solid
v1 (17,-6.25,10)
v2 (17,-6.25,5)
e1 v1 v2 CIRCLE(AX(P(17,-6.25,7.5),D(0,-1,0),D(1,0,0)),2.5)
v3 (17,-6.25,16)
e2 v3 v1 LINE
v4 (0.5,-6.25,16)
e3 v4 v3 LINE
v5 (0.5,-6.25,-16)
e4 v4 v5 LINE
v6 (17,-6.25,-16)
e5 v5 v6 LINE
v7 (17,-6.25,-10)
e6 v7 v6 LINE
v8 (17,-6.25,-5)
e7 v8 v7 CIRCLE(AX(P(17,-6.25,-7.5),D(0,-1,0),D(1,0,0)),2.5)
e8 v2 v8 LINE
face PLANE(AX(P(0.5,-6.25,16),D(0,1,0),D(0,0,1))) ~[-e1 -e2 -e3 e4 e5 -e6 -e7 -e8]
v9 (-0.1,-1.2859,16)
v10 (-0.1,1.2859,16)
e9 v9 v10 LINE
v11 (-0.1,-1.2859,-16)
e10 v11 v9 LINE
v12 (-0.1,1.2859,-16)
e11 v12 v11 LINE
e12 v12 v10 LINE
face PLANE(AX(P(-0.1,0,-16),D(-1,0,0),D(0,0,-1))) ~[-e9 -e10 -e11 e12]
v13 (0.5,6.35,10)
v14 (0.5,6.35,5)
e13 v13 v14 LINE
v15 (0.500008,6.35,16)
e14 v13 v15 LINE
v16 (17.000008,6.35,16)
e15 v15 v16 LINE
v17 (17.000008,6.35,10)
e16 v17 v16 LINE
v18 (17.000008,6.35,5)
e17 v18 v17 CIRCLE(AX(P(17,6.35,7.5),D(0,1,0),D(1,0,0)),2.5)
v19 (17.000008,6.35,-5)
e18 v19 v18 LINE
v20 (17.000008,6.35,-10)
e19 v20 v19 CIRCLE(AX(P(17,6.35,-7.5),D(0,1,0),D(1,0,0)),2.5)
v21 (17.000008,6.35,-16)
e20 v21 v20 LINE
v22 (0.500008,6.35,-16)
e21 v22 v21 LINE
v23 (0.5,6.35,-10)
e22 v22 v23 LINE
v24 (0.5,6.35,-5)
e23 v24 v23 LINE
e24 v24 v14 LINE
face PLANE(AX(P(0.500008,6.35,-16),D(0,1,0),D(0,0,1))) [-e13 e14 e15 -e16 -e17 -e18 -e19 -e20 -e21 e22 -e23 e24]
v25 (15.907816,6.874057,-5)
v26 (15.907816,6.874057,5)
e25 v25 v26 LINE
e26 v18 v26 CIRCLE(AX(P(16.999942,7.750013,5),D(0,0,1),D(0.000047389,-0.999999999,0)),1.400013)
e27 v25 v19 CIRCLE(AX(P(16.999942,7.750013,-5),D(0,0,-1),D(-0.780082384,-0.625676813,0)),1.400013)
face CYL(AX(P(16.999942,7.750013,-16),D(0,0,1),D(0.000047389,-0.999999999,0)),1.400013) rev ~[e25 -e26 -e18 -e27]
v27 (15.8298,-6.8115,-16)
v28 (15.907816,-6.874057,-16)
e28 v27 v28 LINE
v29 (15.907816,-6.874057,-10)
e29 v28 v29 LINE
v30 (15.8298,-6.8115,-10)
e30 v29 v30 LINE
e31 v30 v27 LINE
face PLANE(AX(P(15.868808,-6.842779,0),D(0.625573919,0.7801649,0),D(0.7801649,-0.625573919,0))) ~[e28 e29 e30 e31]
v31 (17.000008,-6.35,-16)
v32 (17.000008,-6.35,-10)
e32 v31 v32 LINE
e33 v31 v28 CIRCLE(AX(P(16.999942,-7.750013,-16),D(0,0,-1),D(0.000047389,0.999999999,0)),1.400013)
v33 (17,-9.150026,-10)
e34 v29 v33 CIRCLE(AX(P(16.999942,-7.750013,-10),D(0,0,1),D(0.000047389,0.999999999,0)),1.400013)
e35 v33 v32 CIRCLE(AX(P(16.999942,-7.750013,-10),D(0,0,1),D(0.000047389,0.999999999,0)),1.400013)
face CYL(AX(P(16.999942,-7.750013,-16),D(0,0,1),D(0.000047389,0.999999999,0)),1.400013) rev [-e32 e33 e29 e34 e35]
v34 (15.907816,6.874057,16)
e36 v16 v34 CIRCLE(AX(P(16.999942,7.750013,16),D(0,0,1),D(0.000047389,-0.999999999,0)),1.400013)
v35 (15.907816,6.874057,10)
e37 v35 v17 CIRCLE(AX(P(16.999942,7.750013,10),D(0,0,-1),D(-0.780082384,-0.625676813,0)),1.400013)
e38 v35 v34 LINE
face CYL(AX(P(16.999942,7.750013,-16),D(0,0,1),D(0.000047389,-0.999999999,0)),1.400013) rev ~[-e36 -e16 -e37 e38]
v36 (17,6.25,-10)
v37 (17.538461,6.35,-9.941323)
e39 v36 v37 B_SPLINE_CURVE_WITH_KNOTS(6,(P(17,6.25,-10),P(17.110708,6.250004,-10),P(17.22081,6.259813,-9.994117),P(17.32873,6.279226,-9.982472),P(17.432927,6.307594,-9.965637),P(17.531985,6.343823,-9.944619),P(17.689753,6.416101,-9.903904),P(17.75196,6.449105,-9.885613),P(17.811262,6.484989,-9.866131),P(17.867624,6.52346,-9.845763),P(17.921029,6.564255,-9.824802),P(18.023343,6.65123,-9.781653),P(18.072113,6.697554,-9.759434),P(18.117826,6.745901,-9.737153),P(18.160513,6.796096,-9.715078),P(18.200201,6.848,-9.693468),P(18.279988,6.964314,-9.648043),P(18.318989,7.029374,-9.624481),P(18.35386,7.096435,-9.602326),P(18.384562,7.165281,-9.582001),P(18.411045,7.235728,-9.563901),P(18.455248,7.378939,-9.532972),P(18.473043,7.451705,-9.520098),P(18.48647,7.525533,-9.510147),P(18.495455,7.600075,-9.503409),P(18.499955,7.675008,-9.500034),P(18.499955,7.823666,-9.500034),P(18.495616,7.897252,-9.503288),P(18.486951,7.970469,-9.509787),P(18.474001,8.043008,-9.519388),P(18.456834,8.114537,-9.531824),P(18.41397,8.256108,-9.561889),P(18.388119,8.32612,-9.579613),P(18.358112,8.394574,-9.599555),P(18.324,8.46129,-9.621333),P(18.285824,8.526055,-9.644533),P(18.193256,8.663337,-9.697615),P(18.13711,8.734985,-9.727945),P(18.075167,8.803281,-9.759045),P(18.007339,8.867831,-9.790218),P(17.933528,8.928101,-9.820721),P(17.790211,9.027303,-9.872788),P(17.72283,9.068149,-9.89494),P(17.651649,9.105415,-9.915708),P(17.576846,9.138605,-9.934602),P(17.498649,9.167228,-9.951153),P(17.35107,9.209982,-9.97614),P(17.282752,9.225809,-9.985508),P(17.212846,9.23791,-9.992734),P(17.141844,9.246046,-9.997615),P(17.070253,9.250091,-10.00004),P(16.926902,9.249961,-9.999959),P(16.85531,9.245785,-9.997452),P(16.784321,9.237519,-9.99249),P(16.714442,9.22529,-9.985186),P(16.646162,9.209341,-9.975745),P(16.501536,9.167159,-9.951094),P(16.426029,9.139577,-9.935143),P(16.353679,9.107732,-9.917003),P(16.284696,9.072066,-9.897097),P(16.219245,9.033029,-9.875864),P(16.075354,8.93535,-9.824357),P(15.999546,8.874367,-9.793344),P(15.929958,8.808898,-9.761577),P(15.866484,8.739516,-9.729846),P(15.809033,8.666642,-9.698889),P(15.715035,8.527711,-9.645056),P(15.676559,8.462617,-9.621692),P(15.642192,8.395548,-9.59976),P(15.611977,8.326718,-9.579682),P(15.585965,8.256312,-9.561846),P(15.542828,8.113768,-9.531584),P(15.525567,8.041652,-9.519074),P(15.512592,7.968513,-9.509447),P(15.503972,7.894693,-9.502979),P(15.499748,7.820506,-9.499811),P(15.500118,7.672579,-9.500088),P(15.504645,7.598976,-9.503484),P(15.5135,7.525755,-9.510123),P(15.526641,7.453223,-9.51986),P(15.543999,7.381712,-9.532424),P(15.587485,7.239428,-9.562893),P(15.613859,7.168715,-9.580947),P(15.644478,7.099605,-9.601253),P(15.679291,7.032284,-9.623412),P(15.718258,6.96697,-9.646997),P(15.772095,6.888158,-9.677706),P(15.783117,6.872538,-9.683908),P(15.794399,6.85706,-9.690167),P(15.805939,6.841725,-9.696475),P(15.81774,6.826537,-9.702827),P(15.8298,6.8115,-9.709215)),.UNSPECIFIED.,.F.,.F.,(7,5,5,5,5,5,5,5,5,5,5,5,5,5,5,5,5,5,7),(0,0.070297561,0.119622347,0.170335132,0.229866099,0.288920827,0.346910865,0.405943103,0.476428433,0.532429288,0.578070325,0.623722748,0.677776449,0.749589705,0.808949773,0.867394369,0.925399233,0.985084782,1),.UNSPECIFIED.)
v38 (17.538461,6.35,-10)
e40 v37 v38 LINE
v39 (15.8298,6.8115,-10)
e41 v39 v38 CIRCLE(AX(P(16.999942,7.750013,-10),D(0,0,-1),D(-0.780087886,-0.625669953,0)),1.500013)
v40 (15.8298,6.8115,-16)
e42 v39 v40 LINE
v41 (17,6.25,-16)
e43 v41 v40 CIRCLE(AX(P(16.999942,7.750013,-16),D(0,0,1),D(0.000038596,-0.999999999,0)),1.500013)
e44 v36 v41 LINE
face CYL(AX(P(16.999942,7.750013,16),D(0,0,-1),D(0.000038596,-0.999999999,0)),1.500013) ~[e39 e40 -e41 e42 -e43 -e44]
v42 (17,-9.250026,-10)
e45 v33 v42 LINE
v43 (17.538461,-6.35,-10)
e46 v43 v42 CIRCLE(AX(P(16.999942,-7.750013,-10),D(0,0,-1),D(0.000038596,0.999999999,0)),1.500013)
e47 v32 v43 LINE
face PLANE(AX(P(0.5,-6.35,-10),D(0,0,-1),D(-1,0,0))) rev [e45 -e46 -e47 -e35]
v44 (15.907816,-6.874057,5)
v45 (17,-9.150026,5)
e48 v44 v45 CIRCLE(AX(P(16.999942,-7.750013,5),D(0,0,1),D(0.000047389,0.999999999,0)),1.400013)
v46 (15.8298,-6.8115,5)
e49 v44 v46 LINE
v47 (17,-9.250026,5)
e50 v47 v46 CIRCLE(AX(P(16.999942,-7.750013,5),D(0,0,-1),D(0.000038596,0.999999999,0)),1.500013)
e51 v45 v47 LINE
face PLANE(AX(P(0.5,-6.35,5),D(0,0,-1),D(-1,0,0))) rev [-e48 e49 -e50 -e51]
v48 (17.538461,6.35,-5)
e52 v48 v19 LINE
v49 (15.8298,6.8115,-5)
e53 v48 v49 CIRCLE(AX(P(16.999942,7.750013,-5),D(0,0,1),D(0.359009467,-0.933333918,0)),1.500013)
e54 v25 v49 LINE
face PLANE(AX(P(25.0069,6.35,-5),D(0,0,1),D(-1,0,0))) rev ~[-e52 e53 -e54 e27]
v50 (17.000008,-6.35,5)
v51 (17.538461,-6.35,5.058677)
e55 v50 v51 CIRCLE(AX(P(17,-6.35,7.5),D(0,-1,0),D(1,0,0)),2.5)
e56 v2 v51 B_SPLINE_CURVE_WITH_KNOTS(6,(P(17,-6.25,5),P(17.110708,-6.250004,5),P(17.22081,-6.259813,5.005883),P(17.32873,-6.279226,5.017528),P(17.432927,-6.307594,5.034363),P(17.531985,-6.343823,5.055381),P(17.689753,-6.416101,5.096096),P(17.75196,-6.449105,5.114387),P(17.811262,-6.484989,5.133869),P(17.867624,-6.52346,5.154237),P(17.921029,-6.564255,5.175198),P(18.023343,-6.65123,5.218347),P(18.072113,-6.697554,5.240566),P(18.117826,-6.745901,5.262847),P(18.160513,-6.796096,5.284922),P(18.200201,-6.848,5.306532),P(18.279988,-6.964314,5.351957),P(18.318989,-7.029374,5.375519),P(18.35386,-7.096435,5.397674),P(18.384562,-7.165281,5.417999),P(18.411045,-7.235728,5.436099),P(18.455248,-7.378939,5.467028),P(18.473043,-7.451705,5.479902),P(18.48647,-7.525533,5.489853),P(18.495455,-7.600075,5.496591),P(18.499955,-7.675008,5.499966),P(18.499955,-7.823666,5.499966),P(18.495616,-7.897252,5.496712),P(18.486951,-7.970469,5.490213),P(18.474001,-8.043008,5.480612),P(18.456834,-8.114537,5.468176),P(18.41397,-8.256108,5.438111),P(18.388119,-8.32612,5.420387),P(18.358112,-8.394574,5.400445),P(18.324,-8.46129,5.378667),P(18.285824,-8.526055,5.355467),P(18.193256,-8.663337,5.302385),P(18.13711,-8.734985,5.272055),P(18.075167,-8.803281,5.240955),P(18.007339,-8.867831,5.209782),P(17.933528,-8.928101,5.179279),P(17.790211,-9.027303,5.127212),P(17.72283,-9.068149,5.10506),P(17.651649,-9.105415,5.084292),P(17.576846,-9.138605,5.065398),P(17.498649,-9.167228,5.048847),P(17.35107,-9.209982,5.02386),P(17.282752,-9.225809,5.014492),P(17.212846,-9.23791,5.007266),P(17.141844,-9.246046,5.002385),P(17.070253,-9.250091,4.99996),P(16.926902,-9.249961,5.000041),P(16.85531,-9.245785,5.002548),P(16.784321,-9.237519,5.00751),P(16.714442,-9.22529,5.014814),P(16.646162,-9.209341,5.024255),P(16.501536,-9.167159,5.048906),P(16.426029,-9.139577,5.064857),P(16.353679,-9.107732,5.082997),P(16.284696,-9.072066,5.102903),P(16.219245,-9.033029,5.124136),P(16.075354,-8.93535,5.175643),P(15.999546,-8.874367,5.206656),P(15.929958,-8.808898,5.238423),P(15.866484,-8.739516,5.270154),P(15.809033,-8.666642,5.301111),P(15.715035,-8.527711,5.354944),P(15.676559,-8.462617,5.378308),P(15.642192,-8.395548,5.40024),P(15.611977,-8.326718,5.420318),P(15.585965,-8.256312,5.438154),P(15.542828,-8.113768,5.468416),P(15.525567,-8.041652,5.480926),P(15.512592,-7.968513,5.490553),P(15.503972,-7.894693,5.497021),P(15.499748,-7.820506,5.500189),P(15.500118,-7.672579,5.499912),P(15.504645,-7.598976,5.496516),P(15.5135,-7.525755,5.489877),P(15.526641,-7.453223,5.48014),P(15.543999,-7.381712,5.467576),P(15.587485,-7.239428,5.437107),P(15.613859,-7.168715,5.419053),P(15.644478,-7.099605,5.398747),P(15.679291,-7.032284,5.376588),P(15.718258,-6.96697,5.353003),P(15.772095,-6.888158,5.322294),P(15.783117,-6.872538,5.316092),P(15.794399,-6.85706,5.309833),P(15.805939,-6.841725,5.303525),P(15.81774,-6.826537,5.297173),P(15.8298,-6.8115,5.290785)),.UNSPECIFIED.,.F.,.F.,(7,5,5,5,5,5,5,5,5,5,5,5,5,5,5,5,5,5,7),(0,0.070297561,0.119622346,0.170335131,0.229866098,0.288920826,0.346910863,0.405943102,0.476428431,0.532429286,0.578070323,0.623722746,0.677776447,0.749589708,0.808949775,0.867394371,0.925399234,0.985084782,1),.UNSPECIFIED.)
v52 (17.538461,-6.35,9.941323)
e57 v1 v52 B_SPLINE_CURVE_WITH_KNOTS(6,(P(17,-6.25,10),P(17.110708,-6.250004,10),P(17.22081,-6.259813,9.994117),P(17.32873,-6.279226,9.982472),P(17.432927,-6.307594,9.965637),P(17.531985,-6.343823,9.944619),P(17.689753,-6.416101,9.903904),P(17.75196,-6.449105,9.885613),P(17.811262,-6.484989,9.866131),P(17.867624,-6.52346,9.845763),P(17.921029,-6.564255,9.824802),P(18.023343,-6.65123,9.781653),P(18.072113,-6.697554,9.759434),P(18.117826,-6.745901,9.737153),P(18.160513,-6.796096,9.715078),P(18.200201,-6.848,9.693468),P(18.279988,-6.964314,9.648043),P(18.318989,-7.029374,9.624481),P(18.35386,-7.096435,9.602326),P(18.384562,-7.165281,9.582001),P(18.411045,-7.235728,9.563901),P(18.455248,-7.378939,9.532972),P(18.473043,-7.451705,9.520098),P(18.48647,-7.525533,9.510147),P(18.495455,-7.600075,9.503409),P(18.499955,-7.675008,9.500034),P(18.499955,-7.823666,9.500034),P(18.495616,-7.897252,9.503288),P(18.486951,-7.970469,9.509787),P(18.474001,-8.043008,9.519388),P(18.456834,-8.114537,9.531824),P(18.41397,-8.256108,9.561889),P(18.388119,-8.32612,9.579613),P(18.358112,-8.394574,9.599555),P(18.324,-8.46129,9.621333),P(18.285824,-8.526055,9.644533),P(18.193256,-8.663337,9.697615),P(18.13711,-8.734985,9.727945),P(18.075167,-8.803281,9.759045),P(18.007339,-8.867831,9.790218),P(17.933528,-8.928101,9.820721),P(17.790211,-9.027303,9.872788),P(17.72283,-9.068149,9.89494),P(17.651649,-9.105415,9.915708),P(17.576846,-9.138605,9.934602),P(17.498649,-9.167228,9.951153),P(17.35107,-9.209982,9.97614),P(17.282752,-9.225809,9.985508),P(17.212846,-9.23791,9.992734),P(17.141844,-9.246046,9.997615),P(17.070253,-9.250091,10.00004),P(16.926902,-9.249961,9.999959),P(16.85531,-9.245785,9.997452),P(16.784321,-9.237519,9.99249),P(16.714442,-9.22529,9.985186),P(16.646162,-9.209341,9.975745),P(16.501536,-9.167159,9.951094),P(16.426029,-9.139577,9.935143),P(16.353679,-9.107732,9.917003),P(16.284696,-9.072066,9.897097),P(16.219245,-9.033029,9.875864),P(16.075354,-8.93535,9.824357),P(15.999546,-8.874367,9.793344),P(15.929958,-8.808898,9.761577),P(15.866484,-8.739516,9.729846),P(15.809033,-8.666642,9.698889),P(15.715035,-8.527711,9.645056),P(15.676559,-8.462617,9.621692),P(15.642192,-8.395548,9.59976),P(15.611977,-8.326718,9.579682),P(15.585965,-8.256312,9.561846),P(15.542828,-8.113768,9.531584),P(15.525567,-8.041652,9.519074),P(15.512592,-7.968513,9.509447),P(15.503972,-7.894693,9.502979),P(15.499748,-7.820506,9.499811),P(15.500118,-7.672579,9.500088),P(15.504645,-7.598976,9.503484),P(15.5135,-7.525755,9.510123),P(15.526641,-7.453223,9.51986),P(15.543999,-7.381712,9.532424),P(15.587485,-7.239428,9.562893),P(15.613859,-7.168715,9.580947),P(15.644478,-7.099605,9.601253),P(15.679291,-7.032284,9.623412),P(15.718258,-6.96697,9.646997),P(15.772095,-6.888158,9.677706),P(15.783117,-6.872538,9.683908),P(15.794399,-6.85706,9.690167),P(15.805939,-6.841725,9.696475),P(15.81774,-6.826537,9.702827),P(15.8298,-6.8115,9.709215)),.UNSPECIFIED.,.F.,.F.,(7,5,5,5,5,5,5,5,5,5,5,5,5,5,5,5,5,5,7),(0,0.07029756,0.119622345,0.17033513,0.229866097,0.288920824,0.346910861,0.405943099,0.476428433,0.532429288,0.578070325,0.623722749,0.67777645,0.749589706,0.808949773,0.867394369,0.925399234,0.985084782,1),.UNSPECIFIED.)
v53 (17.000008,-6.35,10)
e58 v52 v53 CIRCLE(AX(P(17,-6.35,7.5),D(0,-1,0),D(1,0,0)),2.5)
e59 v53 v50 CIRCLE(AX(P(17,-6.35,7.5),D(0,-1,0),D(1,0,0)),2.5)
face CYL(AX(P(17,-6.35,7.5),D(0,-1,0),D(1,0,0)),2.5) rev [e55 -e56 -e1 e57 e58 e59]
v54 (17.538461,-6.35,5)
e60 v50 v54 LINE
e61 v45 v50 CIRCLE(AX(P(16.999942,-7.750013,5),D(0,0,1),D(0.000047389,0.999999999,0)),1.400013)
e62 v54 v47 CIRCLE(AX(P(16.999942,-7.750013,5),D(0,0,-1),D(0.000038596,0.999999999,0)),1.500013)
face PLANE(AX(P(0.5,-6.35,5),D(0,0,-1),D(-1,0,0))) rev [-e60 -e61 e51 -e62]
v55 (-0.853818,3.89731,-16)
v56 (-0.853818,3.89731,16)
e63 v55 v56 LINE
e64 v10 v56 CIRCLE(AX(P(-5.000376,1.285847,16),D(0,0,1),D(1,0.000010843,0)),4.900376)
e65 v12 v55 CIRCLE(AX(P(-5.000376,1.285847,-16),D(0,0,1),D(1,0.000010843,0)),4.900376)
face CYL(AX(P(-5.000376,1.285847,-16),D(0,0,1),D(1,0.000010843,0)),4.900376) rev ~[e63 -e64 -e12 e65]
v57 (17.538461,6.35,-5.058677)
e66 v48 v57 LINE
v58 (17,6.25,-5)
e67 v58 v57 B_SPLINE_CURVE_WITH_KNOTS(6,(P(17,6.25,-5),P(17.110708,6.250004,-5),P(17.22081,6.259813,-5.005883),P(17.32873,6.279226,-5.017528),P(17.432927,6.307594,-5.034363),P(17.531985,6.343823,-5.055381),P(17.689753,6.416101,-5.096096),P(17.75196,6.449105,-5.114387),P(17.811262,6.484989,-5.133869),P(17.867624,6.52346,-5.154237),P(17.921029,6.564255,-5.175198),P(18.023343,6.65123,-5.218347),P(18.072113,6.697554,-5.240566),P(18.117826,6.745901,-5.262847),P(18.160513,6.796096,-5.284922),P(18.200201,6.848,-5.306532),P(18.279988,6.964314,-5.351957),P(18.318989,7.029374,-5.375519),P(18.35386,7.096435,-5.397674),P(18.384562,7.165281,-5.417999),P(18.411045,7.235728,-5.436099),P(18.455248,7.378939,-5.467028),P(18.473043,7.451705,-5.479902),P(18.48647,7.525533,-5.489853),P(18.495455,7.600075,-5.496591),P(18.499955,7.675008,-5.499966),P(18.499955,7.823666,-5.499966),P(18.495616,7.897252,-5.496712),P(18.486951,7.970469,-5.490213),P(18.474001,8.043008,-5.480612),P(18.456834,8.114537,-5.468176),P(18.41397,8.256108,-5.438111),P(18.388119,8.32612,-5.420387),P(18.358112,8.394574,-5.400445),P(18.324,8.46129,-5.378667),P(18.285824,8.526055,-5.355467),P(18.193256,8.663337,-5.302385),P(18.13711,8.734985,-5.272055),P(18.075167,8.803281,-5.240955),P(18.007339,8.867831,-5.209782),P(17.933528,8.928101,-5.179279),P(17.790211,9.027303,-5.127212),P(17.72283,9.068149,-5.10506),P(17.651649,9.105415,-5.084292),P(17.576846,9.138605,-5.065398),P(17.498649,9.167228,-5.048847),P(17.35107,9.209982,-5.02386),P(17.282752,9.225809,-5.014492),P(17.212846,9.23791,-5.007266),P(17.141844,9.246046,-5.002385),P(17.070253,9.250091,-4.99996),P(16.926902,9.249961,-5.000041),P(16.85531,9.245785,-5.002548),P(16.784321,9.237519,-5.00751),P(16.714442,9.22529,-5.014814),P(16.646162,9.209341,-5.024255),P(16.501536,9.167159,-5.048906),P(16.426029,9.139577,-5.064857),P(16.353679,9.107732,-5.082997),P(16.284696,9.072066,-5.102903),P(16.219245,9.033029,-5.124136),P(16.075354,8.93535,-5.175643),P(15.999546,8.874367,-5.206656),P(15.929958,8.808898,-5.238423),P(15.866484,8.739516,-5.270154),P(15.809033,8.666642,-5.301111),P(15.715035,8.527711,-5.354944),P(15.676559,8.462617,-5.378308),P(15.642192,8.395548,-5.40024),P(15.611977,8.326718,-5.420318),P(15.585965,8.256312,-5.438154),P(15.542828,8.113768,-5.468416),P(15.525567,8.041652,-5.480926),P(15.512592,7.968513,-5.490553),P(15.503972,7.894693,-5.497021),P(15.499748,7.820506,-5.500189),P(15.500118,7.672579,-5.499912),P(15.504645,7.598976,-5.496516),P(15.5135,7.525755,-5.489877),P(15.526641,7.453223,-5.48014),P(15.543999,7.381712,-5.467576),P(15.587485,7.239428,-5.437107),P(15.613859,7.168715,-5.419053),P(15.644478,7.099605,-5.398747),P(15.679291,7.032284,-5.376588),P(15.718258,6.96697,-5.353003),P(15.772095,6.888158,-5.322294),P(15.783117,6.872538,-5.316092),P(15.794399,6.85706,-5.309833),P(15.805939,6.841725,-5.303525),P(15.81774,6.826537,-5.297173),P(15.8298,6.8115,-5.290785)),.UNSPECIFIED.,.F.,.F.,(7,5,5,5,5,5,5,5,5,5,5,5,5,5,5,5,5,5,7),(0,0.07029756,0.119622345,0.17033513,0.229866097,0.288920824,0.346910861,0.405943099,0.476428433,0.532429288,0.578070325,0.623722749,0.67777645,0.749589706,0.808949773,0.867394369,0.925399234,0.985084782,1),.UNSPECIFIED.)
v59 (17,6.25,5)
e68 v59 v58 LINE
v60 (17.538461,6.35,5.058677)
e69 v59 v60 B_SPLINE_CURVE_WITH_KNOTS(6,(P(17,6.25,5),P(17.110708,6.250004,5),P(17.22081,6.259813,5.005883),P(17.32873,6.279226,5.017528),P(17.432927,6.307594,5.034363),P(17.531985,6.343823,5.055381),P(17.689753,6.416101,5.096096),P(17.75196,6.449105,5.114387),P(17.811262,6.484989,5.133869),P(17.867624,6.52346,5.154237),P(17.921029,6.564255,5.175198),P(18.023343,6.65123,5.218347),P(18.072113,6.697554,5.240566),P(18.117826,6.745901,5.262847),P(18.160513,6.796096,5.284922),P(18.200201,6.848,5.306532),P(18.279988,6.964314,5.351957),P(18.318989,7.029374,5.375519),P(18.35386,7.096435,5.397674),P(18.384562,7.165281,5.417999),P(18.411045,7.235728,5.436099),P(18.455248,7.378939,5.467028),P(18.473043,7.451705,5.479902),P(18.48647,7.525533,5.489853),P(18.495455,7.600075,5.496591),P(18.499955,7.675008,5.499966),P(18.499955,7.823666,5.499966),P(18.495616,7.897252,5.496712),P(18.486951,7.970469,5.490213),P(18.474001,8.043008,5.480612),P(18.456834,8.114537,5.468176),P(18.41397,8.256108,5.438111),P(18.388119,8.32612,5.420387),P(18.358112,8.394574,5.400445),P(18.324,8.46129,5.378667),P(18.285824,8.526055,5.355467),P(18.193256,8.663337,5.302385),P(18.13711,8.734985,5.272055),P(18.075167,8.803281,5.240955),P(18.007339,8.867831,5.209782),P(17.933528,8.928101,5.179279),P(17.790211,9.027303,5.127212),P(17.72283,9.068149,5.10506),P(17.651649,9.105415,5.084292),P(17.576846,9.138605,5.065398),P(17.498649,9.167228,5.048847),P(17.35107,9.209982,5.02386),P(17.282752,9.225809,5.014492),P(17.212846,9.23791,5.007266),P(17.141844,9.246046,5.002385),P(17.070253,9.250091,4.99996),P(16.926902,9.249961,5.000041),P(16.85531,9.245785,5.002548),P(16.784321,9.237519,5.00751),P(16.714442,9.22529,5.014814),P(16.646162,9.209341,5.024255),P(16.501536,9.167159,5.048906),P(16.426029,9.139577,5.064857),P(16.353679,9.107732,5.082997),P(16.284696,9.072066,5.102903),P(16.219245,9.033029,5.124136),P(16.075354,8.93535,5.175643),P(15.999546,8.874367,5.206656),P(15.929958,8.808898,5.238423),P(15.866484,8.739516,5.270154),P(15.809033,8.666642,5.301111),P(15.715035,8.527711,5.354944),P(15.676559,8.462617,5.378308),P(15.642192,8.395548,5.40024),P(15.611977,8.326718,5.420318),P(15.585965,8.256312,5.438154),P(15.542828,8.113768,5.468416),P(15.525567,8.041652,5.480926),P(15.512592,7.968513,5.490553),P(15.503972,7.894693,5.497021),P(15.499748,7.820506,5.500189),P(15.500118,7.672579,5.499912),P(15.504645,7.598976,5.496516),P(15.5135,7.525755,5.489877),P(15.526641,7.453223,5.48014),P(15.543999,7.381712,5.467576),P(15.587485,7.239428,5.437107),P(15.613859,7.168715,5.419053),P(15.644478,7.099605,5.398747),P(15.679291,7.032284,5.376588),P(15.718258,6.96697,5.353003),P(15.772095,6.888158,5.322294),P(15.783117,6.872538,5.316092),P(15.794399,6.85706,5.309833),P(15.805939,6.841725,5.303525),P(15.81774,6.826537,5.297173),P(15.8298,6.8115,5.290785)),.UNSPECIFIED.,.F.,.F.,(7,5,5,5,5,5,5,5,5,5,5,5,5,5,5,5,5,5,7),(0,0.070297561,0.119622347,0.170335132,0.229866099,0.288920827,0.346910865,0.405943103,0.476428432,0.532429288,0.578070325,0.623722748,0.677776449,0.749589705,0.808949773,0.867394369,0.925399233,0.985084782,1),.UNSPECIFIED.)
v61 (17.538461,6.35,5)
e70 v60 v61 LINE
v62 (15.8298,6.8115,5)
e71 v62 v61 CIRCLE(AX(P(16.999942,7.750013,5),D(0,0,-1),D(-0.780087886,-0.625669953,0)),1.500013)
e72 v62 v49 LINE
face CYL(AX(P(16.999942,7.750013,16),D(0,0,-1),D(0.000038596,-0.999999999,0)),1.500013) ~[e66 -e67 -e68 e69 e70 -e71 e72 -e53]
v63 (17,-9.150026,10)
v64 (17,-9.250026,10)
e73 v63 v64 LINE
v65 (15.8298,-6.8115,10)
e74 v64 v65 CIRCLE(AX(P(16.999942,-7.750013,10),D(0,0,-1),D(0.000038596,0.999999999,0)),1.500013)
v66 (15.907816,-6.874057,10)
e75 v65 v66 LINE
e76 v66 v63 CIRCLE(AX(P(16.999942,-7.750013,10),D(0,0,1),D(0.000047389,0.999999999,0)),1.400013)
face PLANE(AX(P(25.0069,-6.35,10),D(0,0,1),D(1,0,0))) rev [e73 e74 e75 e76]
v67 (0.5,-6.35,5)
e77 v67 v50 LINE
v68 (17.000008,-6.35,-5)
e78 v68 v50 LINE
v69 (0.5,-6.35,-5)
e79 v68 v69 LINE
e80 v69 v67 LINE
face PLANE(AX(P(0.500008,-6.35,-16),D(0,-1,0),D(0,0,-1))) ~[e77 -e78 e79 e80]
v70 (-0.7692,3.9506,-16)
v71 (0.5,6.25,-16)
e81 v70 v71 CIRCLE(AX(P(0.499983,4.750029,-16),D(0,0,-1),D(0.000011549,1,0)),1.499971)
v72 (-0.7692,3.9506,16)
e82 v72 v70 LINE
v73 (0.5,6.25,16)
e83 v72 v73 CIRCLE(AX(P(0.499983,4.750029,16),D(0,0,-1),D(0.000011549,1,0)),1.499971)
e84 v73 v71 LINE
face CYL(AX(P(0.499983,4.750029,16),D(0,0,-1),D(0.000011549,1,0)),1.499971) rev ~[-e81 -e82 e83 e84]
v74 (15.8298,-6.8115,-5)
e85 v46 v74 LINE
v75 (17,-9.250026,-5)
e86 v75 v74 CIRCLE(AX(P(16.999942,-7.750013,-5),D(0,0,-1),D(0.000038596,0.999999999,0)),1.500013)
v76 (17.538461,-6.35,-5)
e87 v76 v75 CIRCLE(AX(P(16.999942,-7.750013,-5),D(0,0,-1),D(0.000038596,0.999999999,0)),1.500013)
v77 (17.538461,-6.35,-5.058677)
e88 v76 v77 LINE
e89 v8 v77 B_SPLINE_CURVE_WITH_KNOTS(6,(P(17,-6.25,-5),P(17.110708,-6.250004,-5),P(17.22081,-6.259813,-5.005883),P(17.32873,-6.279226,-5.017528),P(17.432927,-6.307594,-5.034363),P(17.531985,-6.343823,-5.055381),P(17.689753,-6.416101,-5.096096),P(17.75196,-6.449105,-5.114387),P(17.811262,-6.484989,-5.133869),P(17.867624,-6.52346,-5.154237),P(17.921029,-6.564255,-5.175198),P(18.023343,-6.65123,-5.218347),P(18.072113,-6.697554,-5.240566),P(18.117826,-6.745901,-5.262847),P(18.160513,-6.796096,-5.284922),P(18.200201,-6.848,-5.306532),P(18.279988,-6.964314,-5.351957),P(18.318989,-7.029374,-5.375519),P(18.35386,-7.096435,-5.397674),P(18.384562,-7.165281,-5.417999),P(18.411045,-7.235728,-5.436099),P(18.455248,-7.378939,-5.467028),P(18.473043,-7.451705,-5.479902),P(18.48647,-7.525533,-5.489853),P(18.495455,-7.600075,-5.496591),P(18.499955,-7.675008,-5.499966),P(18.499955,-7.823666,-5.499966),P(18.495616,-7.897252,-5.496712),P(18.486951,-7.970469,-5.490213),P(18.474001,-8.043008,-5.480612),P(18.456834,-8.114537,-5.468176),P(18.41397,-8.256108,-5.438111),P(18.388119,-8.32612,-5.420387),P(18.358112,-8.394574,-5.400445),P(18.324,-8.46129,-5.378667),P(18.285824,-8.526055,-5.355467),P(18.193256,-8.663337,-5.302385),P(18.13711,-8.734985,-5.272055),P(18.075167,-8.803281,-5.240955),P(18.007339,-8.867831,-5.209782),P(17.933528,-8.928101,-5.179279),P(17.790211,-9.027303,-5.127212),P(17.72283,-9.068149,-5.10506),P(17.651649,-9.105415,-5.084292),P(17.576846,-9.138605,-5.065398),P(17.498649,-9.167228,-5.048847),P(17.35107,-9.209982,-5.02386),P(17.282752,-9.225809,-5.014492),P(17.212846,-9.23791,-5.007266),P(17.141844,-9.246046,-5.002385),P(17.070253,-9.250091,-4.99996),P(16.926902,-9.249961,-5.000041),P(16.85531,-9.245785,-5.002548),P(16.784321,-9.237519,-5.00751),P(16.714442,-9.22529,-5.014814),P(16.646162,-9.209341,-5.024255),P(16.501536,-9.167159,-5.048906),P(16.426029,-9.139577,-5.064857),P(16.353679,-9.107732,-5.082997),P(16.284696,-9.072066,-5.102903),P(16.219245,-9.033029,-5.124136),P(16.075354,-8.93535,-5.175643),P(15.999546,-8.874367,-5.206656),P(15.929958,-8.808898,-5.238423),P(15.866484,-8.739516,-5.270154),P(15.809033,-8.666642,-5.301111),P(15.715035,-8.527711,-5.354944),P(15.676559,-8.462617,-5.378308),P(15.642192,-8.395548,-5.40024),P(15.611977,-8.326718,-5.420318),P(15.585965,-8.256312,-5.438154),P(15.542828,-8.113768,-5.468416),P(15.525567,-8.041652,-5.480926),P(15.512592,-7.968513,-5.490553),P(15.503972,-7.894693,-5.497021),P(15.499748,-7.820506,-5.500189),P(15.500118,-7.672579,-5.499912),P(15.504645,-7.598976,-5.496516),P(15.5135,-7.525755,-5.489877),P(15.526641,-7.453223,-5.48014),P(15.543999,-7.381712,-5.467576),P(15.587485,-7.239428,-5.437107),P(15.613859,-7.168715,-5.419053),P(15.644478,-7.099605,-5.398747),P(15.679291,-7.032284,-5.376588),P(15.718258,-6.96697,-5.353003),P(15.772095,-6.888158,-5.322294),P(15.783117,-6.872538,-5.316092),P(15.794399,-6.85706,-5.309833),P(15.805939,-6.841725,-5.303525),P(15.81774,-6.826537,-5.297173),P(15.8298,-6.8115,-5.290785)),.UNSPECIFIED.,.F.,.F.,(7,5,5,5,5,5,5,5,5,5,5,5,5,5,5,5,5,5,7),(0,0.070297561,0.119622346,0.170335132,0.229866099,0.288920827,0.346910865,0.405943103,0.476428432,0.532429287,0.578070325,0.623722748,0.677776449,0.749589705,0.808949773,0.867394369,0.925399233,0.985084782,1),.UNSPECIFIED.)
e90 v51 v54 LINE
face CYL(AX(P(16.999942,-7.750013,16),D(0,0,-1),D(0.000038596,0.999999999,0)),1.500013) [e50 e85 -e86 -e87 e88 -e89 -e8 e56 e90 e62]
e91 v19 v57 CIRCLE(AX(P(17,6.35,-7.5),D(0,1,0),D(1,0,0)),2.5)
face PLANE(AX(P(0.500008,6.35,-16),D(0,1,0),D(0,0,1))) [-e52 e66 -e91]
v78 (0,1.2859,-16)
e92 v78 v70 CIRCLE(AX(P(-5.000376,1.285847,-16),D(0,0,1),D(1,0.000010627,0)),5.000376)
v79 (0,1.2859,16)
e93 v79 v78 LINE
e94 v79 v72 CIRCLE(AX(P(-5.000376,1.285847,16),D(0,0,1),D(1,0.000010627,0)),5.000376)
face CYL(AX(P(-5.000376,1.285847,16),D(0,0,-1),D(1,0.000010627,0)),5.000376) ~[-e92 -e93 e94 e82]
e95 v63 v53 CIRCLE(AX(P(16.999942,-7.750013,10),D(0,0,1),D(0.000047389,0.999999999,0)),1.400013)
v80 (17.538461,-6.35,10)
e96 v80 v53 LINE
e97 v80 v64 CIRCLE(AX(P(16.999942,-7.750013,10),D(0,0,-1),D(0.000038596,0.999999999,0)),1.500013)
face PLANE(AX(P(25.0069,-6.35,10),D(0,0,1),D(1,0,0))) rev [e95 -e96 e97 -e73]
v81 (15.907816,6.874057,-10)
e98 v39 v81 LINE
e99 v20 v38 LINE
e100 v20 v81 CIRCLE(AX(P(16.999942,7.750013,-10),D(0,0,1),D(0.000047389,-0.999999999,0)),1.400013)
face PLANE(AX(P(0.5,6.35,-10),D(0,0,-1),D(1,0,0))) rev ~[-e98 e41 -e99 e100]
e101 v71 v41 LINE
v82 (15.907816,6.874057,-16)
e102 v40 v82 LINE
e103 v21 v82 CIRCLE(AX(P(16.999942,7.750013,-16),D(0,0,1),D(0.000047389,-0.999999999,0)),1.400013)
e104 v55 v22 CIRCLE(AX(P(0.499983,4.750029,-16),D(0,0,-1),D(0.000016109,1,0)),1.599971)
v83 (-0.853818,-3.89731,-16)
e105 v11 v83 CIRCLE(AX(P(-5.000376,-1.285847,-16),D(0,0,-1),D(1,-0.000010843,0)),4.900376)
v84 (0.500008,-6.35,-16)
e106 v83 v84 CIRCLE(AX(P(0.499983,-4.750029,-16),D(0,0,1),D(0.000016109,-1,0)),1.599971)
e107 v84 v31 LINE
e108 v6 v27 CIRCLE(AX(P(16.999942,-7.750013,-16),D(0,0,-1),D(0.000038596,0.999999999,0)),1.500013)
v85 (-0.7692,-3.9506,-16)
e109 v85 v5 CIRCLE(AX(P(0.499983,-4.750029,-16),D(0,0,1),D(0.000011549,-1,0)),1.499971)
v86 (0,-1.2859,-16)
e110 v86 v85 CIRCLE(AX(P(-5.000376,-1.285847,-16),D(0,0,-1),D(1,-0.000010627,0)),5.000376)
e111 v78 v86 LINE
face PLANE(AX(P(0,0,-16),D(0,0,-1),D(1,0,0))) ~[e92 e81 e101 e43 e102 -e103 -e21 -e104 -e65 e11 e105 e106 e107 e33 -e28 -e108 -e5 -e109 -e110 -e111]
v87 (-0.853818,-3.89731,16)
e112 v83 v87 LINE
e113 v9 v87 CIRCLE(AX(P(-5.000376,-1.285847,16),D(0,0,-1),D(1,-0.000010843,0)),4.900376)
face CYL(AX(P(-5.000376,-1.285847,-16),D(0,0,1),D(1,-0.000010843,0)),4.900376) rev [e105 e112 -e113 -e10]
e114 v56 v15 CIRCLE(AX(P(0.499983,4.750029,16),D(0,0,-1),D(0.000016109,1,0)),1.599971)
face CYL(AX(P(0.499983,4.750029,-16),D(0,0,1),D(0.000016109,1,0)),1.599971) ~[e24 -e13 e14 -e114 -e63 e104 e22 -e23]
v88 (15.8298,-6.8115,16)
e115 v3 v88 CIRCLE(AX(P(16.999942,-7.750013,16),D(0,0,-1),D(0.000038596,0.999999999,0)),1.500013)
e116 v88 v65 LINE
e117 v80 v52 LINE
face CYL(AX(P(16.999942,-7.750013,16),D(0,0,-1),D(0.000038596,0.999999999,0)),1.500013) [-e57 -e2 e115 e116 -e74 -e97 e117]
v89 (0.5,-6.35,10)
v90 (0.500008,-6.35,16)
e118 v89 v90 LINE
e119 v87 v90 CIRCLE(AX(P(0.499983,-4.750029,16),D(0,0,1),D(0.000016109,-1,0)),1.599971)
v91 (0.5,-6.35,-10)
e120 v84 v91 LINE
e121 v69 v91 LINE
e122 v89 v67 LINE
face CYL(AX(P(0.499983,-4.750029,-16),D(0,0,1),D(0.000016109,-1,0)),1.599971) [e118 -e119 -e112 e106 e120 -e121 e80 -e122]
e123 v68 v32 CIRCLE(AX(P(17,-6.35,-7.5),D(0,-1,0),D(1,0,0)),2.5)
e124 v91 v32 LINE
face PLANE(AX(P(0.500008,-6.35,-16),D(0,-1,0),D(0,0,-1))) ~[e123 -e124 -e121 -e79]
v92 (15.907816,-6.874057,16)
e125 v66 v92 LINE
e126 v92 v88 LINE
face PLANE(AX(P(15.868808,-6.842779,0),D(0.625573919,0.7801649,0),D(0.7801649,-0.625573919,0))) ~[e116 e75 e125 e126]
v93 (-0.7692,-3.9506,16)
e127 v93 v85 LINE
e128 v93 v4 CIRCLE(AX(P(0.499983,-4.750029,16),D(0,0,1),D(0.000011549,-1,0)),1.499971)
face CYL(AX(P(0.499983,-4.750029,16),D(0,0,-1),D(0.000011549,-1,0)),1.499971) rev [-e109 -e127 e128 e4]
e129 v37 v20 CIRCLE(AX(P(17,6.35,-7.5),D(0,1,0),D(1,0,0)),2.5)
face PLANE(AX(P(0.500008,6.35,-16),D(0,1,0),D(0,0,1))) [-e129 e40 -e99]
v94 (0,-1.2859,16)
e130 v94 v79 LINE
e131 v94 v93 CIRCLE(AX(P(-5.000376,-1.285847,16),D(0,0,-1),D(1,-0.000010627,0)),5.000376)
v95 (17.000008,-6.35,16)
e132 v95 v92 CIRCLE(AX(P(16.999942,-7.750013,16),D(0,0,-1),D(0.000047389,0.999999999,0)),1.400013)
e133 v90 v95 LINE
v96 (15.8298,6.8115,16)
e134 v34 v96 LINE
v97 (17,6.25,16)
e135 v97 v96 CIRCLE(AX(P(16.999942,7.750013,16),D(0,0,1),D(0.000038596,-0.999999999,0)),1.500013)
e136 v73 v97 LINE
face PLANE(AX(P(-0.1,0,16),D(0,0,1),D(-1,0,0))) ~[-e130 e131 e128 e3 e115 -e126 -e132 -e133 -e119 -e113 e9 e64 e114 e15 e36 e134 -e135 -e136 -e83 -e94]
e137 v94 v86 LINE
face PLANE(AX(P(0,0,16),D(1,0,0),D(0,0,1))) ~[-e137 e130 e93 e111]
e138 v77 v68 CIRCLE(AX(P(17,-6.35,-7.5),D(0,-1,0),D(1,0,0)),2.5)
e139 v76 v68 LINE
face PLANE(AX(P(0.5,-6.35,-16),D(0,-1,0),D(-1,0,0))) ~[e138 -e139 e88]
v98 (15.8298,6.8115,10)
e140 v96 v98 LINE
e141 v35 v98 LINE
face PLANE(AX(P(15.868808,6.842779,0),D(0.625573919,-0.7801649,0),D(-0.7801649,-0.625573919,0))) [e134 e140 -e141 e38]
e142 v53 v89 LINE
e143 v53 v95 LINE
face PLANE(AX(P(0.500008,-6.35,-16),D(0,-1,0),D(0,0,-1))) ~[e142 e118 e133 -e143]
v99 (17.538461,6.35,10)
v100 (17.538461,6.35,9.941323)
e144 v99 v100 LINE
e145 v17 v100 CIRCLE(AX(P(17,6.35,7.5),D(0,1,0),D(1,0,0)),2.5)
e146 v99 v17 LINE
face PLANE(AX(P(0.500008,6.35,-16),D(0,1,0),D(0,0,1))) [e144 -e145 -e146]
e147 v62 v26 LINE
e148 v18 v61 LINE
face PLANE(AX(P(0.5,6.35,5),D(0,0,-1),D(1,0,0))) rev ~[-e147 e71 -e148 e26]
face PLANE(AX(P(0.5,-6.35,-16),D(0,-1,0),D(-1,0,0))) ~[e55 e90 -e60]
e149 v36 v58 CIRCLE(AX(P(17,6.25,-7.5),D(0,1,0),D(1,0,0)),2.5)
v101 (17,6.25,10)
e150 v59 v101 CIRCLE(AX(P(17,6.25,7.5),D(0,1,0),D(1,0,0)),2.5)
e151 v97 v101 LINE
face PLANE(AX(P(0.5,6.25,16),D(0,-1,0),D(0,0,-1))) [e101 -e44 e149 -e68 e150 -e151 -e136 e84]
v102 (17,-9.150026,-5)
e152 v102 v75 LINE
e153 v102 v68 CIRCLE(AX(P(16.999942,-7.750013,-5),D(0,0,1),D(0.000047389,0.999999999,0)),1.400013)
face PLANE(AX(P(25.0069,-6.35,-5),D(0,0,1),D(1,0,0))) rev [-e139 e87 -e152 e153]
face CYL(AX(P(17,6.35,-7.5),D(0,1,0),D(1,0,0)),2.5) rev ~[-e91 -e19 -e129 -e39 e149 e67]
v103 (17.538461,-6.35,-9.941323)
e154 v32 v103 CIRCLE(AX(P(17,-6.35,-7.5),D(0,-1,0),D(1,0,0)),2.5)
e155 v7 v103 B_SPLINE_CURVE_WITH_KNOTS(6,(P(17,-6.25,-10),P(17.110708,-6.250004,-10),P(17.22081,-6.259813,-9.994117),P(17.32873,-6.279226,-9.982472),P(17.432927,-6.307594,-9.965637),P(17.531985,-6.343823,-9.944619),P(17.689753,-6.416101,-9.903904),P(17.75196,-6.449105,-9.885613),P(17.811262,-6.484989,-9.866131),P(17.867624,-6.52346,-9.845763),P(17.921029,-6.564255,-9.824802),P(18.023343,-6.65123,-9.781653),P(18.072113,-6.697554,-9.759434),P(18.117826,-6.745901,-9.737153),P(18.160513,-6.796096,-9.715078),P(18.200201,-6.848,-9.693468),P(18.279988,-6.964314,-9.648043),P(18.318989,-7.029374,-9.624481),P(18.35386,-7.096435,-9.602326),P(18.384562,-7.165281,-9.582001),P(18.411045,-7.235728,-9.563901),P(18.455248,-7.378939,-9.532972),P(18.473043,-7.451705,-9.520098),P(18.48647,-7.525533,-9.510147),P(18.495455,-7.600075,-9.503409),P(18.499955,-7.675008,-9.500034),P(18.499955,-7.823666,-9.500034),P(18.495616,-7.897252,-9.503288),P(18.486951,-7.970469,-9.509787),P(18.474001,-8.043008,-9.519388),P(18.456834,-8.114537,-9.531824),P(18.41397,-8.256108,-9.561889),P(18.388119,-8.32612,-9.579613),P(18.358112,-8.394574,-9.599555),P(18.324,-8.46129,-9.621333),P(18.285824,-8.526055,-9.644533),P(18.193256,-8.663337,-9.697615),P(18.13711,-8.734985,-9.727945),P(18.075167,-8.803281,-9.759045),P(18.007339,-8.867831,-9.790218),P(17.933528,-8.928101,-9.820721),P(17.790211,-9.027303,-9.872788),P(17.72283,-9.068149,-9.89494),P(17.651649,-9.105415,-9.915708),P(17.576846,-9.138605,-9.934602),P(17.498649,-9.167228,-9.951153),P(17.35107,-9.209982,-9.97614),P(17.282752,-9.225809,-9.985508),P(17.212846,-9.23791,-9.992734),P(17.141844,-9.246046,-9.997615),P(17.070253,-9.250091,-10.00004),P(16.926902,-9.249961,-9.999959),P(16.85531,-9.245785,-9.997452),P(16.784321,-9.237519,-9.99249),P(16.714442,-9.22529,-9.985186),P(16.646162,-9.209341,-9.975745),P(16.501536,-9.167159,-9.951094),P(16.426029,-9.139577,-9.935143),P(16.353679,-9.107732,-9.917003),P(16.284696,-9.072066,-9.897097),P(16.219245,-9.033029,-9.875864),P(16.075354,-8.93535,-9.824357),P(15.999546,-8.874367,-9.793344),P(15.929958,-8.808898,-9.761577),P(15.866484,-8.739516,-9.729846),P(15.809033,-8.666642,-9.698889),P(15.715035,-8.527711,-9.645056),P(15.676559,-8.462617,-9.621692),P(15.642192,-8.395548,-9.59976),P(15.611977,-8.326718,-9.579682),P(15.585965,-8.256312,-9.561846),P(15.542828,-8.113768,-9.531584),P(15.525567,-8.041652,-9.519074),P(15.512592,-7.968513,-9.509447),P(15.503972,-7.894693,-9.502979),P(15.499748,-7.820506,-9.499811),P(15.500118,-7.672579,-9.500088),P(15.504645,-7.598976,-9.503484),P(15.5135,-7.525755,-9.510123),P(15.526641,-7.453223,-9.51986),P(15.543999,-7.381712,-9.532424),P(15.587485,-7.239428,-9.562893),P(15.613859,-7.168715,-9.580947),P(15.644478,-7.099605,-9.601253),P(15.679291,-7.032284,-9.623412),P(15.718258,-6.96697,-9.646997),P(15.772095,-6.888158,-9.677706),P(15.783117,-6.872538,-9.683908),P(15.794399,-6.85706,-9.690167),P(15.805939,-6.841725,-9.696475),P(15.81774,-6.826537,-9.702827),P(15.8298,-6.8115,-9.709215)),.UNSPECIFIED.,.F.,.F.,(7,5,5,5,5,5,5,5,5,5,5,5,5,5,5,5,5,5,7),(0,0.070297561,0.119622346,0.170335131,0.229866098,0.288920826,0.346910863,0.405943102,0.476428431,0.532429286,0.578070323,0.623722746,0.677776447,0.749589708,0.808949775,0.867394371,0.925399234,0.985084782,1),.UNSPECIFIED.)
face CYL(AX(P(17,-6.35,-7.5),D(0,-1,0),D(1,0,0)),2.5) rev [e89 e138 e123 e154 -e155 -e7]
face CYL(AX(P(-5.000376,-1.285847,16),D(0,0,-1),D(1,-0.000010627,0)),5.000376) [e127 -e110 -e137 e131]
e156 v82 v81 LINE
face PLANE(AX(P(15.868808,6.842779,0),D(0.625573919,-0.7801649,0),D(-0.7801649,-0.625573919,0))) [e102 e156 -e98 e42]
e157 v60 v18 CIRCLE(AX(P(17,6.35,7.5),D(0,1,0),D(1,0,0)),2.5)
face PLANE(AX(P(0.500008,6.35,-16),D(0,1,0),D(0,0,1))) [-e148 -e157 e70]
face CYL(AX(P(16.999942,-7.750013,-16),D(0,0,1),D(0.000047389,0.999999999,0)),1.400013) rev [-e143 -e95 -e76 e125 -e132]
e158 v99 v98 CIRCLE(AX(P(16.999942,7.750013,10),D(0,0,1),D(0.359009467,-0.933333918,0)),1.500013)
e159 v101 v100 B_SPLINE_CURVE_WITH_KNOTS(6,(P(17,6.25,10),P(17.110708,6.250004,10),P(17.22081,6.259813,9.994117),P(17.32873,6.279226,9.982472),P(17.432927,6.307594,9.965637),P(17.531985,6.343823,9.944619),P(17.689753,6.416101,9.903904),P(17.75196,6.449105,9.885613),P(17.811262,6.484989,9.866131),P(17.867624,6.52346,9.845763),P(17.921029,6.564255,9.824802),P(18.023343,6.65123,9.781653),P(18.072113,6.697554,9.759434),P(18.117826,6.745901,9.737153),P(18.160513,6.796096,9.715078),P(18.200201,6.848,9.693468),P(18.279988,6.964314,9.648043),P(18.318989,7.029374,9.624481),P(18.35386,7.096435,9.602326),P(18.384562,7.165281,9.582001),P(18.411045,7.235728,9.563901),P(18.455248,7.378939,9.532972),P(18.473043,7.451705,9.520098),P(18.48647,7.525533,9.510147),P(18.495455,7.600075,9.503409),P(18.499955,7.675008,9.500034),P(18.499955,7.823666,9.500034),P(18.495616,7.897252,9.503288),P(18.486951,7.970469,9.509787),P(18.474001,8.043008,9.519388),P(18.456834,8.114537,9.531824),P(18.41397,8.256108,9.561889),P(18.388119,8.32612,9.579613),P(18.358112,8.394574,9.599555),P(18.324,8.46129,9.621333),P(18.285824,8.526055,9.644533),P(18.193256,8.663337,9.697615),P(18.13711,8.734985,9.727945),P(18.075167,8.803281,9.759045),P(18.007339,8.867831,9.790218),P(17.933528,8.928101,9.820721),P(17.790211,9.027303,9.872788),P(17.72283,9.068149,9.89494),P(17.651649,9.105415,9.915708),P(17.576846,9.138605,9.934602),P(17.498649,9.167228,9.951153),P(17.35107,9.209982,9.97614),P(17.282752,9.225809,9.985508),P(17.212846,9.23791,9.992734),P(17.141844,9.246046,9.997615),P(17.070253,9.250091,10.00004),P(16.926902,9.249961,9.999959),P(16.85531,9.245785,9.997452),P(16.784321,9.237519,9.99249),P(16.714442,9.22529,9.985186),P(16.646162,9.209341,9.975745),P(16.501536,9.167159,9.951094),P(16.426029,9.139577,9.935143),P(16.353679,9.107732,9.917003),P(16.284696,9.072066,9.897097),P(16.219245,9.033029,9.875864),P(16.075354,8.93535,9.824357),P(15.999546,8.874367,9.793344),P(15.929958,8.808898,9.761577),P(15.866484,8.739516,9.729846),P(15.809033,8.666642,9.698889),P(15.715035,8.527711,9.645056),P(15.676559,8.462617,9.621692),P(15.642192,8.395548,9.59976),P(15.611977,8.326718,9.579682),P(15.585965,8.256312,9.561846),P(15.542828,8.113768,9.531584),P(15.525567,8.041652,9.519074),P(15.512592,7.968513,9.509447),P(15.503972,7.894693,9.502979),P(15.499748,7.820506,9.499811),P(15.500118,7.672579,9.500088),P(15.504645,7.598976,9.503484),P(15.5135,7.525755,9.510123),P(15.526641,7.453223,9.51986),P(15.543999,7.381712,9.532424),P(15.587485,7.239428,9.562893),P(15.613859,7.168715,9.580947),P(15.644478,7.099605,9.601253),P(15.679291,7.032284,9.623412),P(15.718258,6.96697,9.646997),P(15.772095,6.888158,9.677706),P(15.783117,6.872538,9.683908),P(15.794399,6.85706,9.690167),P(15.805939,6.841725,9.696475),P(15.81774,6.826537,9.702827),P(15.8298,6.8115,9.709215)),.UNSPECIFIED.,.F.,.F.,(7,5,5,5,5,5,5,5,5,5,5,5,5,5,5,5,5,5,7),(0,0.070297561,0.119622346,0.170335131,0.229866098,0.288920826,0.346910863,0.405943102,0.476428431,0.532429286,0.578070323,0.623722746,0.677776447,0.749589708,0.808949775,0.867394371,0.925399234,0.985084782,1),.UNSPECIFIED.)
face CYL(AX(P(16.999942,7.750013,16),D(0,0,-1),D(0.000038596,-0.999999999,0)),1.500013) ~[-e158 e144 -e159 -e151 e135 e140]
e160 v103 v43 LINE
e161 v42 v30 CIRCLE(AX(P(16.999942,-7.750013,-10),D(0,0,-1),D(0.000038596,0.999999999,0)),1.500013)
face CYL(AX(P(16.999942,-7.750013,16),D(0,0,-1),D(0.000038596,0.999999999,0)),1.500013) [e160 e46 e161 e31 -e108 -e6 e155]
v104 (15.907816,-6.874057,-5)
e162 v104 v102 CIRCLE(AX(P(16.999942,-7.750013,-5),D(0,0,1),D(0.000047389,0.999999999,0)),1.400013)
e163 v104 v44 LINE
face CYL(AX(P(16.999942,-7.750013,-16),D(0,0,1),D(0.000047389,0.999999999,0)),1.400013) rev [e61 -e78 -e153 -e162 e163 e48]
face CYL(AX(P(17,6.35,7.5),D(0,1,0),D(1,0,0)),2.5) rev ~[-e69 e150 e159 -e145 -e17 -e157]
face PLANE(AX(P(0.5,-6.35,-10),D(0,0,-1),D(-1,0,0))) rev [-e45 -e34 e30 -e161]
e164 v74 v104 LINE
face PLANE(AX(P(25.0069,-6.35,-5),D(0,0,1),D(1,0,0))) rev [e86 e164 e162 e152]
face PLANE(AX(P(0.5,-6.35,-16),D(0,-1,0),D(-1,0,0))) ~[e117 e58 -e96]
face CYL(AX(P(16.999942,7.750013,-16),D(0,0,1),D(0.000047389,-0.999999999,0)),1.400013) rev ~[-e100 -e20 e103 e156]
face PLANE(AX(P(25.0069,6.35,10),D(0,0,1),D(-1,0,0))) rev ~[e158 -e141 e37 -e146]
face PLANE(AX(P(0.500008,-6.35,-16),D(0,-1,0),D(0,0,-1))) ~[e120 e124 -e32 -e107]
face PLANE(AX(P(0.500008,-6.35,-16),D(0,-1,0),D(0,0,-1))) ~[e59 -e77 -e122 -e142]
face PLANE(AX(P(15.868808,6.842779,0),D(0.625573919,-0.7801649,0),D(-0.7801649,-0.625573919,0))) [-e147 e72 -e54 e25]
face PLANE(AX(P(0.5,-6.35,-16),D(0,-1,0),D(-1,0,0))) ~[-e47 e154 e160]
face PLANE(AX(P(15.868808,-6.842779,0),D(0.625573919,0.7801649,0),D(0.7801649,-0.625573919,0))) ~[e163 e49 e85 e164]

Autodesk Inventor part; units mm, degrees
ref_plane "YZ Plane" through (0, 0, 0) normal (1, 0, 0) x (0, 1, 0)
ref_plane "XZ Plane" through (0, 0, 0) normal (0, 1, 0) x (-1, 0, 0)
ref_plane "XY Plane" through (0, 0, 0) normal (0, 0, 1) x (1, 0, 0)
sketch "Sketch1" plane through (0, 0, 0) normal (0, 0, 1) x (1, 0, 0)
  line L0 (0, 0) -> (0, 1.2859)
  arc A0 (0, 1.2859) -> (-0.7692, 3.9506) centre (-5, 1.2859) ccw
  arc A1 (0.5, 6.25) -> (-0.7692, 3.9506) centre (0.5, 4.75) ccw
  line L1 (0.5, 6.25) -> (17, 6.25)
  arc A2 (17, 6.25) -> (15.8298, 6.8115) centre (17, 7.75) ccw
  line L2 (0.5, 4.75) -> (-1, 4.75)
  dimension "d0" = 1.5
  dimension "d2" = 17
  dimension "d3" = 6.25
  dimension "d4" = 1
  dimension "d5" = 5
sketch "Sketch2" plane through (0, 0, 0) normal (0, 1, 0) x (-1, 0, 0)
  line L0 (0.1, 16) -> (0, 16)
  line L1 (0, 16) -> (0, -16)
  line L2 (0, -16) -> (0.1, -16)
  line L3 (0.1, -16) -> (0.1, 16)
  point P0 (0, 0)
  point P1 (0, 0)
  dimension "d6" = 0.1
  dimension "d8" = 32
sweep "Sweep1" add profiles "Sketch2" path "Sketch1" path curves L0 A0 A1 L1 A2
sketch "Sketch3" plane through (0.5, 6.35, -16) normal (0, 1, 0) x (1, 0, 0)
  line L0 (0, 0) -> (16.5, 0) projected
  line L1 (0, -32) -> (0, 0) projected
  line L2 (0, -6) -> (24.5069, -6)
  line L3 (24.5069, -6) -> (24.5069, -11)
  line L4 (24.5069, -11) -> (0, -11)
  line L5 (0, -11) -> (0, -6)
  line L6 (0, -21) -> (24.5069, -21)
  line L7 (24.5069, -21) -> (24.5069, -26)
  line L8 (24.5069, -26) -> (0, -26)
  line L9 (0, -26) -> (0, -21)
  line L10 (24.5069, -21) -> (24.5069, -11)
  point P0 (-0.5, -16)
  point P1 (24.5069, -16)
  dimension "d10" = 5
  dimension "d12" = 6
extrude "Extrusion1" cut sketch "Sketch3" along normal through all contours L1 L6 L7 L8 | L1 L2 L3 L4
sketch "Sketch4" plane through (0.5, 6.35, -16) normal (0, 1, 0) x (1, 0, 0)
  line L0 (16.5, -26) -> (17.0385, -26) projected
  line L1 (16.5, -11) -> (17.0385, -11) projected
  circle A0 centre (16.5, -8.5) radius 2.5
  circle A1 centre (16.5, -23.5) radius 2.5
  point P0 (-0.5, -16)
extrude "Extrusion2" cut sketch "Sketch4" along normal through all both and the other way through all
mirror "Mirror1" about plane through (-0.05, 0, 0) normal (0, -1, 0) of "Sweep1", "Extrusion1", "Extrusion2"
properties part number "BINDER CLIP BODY"
